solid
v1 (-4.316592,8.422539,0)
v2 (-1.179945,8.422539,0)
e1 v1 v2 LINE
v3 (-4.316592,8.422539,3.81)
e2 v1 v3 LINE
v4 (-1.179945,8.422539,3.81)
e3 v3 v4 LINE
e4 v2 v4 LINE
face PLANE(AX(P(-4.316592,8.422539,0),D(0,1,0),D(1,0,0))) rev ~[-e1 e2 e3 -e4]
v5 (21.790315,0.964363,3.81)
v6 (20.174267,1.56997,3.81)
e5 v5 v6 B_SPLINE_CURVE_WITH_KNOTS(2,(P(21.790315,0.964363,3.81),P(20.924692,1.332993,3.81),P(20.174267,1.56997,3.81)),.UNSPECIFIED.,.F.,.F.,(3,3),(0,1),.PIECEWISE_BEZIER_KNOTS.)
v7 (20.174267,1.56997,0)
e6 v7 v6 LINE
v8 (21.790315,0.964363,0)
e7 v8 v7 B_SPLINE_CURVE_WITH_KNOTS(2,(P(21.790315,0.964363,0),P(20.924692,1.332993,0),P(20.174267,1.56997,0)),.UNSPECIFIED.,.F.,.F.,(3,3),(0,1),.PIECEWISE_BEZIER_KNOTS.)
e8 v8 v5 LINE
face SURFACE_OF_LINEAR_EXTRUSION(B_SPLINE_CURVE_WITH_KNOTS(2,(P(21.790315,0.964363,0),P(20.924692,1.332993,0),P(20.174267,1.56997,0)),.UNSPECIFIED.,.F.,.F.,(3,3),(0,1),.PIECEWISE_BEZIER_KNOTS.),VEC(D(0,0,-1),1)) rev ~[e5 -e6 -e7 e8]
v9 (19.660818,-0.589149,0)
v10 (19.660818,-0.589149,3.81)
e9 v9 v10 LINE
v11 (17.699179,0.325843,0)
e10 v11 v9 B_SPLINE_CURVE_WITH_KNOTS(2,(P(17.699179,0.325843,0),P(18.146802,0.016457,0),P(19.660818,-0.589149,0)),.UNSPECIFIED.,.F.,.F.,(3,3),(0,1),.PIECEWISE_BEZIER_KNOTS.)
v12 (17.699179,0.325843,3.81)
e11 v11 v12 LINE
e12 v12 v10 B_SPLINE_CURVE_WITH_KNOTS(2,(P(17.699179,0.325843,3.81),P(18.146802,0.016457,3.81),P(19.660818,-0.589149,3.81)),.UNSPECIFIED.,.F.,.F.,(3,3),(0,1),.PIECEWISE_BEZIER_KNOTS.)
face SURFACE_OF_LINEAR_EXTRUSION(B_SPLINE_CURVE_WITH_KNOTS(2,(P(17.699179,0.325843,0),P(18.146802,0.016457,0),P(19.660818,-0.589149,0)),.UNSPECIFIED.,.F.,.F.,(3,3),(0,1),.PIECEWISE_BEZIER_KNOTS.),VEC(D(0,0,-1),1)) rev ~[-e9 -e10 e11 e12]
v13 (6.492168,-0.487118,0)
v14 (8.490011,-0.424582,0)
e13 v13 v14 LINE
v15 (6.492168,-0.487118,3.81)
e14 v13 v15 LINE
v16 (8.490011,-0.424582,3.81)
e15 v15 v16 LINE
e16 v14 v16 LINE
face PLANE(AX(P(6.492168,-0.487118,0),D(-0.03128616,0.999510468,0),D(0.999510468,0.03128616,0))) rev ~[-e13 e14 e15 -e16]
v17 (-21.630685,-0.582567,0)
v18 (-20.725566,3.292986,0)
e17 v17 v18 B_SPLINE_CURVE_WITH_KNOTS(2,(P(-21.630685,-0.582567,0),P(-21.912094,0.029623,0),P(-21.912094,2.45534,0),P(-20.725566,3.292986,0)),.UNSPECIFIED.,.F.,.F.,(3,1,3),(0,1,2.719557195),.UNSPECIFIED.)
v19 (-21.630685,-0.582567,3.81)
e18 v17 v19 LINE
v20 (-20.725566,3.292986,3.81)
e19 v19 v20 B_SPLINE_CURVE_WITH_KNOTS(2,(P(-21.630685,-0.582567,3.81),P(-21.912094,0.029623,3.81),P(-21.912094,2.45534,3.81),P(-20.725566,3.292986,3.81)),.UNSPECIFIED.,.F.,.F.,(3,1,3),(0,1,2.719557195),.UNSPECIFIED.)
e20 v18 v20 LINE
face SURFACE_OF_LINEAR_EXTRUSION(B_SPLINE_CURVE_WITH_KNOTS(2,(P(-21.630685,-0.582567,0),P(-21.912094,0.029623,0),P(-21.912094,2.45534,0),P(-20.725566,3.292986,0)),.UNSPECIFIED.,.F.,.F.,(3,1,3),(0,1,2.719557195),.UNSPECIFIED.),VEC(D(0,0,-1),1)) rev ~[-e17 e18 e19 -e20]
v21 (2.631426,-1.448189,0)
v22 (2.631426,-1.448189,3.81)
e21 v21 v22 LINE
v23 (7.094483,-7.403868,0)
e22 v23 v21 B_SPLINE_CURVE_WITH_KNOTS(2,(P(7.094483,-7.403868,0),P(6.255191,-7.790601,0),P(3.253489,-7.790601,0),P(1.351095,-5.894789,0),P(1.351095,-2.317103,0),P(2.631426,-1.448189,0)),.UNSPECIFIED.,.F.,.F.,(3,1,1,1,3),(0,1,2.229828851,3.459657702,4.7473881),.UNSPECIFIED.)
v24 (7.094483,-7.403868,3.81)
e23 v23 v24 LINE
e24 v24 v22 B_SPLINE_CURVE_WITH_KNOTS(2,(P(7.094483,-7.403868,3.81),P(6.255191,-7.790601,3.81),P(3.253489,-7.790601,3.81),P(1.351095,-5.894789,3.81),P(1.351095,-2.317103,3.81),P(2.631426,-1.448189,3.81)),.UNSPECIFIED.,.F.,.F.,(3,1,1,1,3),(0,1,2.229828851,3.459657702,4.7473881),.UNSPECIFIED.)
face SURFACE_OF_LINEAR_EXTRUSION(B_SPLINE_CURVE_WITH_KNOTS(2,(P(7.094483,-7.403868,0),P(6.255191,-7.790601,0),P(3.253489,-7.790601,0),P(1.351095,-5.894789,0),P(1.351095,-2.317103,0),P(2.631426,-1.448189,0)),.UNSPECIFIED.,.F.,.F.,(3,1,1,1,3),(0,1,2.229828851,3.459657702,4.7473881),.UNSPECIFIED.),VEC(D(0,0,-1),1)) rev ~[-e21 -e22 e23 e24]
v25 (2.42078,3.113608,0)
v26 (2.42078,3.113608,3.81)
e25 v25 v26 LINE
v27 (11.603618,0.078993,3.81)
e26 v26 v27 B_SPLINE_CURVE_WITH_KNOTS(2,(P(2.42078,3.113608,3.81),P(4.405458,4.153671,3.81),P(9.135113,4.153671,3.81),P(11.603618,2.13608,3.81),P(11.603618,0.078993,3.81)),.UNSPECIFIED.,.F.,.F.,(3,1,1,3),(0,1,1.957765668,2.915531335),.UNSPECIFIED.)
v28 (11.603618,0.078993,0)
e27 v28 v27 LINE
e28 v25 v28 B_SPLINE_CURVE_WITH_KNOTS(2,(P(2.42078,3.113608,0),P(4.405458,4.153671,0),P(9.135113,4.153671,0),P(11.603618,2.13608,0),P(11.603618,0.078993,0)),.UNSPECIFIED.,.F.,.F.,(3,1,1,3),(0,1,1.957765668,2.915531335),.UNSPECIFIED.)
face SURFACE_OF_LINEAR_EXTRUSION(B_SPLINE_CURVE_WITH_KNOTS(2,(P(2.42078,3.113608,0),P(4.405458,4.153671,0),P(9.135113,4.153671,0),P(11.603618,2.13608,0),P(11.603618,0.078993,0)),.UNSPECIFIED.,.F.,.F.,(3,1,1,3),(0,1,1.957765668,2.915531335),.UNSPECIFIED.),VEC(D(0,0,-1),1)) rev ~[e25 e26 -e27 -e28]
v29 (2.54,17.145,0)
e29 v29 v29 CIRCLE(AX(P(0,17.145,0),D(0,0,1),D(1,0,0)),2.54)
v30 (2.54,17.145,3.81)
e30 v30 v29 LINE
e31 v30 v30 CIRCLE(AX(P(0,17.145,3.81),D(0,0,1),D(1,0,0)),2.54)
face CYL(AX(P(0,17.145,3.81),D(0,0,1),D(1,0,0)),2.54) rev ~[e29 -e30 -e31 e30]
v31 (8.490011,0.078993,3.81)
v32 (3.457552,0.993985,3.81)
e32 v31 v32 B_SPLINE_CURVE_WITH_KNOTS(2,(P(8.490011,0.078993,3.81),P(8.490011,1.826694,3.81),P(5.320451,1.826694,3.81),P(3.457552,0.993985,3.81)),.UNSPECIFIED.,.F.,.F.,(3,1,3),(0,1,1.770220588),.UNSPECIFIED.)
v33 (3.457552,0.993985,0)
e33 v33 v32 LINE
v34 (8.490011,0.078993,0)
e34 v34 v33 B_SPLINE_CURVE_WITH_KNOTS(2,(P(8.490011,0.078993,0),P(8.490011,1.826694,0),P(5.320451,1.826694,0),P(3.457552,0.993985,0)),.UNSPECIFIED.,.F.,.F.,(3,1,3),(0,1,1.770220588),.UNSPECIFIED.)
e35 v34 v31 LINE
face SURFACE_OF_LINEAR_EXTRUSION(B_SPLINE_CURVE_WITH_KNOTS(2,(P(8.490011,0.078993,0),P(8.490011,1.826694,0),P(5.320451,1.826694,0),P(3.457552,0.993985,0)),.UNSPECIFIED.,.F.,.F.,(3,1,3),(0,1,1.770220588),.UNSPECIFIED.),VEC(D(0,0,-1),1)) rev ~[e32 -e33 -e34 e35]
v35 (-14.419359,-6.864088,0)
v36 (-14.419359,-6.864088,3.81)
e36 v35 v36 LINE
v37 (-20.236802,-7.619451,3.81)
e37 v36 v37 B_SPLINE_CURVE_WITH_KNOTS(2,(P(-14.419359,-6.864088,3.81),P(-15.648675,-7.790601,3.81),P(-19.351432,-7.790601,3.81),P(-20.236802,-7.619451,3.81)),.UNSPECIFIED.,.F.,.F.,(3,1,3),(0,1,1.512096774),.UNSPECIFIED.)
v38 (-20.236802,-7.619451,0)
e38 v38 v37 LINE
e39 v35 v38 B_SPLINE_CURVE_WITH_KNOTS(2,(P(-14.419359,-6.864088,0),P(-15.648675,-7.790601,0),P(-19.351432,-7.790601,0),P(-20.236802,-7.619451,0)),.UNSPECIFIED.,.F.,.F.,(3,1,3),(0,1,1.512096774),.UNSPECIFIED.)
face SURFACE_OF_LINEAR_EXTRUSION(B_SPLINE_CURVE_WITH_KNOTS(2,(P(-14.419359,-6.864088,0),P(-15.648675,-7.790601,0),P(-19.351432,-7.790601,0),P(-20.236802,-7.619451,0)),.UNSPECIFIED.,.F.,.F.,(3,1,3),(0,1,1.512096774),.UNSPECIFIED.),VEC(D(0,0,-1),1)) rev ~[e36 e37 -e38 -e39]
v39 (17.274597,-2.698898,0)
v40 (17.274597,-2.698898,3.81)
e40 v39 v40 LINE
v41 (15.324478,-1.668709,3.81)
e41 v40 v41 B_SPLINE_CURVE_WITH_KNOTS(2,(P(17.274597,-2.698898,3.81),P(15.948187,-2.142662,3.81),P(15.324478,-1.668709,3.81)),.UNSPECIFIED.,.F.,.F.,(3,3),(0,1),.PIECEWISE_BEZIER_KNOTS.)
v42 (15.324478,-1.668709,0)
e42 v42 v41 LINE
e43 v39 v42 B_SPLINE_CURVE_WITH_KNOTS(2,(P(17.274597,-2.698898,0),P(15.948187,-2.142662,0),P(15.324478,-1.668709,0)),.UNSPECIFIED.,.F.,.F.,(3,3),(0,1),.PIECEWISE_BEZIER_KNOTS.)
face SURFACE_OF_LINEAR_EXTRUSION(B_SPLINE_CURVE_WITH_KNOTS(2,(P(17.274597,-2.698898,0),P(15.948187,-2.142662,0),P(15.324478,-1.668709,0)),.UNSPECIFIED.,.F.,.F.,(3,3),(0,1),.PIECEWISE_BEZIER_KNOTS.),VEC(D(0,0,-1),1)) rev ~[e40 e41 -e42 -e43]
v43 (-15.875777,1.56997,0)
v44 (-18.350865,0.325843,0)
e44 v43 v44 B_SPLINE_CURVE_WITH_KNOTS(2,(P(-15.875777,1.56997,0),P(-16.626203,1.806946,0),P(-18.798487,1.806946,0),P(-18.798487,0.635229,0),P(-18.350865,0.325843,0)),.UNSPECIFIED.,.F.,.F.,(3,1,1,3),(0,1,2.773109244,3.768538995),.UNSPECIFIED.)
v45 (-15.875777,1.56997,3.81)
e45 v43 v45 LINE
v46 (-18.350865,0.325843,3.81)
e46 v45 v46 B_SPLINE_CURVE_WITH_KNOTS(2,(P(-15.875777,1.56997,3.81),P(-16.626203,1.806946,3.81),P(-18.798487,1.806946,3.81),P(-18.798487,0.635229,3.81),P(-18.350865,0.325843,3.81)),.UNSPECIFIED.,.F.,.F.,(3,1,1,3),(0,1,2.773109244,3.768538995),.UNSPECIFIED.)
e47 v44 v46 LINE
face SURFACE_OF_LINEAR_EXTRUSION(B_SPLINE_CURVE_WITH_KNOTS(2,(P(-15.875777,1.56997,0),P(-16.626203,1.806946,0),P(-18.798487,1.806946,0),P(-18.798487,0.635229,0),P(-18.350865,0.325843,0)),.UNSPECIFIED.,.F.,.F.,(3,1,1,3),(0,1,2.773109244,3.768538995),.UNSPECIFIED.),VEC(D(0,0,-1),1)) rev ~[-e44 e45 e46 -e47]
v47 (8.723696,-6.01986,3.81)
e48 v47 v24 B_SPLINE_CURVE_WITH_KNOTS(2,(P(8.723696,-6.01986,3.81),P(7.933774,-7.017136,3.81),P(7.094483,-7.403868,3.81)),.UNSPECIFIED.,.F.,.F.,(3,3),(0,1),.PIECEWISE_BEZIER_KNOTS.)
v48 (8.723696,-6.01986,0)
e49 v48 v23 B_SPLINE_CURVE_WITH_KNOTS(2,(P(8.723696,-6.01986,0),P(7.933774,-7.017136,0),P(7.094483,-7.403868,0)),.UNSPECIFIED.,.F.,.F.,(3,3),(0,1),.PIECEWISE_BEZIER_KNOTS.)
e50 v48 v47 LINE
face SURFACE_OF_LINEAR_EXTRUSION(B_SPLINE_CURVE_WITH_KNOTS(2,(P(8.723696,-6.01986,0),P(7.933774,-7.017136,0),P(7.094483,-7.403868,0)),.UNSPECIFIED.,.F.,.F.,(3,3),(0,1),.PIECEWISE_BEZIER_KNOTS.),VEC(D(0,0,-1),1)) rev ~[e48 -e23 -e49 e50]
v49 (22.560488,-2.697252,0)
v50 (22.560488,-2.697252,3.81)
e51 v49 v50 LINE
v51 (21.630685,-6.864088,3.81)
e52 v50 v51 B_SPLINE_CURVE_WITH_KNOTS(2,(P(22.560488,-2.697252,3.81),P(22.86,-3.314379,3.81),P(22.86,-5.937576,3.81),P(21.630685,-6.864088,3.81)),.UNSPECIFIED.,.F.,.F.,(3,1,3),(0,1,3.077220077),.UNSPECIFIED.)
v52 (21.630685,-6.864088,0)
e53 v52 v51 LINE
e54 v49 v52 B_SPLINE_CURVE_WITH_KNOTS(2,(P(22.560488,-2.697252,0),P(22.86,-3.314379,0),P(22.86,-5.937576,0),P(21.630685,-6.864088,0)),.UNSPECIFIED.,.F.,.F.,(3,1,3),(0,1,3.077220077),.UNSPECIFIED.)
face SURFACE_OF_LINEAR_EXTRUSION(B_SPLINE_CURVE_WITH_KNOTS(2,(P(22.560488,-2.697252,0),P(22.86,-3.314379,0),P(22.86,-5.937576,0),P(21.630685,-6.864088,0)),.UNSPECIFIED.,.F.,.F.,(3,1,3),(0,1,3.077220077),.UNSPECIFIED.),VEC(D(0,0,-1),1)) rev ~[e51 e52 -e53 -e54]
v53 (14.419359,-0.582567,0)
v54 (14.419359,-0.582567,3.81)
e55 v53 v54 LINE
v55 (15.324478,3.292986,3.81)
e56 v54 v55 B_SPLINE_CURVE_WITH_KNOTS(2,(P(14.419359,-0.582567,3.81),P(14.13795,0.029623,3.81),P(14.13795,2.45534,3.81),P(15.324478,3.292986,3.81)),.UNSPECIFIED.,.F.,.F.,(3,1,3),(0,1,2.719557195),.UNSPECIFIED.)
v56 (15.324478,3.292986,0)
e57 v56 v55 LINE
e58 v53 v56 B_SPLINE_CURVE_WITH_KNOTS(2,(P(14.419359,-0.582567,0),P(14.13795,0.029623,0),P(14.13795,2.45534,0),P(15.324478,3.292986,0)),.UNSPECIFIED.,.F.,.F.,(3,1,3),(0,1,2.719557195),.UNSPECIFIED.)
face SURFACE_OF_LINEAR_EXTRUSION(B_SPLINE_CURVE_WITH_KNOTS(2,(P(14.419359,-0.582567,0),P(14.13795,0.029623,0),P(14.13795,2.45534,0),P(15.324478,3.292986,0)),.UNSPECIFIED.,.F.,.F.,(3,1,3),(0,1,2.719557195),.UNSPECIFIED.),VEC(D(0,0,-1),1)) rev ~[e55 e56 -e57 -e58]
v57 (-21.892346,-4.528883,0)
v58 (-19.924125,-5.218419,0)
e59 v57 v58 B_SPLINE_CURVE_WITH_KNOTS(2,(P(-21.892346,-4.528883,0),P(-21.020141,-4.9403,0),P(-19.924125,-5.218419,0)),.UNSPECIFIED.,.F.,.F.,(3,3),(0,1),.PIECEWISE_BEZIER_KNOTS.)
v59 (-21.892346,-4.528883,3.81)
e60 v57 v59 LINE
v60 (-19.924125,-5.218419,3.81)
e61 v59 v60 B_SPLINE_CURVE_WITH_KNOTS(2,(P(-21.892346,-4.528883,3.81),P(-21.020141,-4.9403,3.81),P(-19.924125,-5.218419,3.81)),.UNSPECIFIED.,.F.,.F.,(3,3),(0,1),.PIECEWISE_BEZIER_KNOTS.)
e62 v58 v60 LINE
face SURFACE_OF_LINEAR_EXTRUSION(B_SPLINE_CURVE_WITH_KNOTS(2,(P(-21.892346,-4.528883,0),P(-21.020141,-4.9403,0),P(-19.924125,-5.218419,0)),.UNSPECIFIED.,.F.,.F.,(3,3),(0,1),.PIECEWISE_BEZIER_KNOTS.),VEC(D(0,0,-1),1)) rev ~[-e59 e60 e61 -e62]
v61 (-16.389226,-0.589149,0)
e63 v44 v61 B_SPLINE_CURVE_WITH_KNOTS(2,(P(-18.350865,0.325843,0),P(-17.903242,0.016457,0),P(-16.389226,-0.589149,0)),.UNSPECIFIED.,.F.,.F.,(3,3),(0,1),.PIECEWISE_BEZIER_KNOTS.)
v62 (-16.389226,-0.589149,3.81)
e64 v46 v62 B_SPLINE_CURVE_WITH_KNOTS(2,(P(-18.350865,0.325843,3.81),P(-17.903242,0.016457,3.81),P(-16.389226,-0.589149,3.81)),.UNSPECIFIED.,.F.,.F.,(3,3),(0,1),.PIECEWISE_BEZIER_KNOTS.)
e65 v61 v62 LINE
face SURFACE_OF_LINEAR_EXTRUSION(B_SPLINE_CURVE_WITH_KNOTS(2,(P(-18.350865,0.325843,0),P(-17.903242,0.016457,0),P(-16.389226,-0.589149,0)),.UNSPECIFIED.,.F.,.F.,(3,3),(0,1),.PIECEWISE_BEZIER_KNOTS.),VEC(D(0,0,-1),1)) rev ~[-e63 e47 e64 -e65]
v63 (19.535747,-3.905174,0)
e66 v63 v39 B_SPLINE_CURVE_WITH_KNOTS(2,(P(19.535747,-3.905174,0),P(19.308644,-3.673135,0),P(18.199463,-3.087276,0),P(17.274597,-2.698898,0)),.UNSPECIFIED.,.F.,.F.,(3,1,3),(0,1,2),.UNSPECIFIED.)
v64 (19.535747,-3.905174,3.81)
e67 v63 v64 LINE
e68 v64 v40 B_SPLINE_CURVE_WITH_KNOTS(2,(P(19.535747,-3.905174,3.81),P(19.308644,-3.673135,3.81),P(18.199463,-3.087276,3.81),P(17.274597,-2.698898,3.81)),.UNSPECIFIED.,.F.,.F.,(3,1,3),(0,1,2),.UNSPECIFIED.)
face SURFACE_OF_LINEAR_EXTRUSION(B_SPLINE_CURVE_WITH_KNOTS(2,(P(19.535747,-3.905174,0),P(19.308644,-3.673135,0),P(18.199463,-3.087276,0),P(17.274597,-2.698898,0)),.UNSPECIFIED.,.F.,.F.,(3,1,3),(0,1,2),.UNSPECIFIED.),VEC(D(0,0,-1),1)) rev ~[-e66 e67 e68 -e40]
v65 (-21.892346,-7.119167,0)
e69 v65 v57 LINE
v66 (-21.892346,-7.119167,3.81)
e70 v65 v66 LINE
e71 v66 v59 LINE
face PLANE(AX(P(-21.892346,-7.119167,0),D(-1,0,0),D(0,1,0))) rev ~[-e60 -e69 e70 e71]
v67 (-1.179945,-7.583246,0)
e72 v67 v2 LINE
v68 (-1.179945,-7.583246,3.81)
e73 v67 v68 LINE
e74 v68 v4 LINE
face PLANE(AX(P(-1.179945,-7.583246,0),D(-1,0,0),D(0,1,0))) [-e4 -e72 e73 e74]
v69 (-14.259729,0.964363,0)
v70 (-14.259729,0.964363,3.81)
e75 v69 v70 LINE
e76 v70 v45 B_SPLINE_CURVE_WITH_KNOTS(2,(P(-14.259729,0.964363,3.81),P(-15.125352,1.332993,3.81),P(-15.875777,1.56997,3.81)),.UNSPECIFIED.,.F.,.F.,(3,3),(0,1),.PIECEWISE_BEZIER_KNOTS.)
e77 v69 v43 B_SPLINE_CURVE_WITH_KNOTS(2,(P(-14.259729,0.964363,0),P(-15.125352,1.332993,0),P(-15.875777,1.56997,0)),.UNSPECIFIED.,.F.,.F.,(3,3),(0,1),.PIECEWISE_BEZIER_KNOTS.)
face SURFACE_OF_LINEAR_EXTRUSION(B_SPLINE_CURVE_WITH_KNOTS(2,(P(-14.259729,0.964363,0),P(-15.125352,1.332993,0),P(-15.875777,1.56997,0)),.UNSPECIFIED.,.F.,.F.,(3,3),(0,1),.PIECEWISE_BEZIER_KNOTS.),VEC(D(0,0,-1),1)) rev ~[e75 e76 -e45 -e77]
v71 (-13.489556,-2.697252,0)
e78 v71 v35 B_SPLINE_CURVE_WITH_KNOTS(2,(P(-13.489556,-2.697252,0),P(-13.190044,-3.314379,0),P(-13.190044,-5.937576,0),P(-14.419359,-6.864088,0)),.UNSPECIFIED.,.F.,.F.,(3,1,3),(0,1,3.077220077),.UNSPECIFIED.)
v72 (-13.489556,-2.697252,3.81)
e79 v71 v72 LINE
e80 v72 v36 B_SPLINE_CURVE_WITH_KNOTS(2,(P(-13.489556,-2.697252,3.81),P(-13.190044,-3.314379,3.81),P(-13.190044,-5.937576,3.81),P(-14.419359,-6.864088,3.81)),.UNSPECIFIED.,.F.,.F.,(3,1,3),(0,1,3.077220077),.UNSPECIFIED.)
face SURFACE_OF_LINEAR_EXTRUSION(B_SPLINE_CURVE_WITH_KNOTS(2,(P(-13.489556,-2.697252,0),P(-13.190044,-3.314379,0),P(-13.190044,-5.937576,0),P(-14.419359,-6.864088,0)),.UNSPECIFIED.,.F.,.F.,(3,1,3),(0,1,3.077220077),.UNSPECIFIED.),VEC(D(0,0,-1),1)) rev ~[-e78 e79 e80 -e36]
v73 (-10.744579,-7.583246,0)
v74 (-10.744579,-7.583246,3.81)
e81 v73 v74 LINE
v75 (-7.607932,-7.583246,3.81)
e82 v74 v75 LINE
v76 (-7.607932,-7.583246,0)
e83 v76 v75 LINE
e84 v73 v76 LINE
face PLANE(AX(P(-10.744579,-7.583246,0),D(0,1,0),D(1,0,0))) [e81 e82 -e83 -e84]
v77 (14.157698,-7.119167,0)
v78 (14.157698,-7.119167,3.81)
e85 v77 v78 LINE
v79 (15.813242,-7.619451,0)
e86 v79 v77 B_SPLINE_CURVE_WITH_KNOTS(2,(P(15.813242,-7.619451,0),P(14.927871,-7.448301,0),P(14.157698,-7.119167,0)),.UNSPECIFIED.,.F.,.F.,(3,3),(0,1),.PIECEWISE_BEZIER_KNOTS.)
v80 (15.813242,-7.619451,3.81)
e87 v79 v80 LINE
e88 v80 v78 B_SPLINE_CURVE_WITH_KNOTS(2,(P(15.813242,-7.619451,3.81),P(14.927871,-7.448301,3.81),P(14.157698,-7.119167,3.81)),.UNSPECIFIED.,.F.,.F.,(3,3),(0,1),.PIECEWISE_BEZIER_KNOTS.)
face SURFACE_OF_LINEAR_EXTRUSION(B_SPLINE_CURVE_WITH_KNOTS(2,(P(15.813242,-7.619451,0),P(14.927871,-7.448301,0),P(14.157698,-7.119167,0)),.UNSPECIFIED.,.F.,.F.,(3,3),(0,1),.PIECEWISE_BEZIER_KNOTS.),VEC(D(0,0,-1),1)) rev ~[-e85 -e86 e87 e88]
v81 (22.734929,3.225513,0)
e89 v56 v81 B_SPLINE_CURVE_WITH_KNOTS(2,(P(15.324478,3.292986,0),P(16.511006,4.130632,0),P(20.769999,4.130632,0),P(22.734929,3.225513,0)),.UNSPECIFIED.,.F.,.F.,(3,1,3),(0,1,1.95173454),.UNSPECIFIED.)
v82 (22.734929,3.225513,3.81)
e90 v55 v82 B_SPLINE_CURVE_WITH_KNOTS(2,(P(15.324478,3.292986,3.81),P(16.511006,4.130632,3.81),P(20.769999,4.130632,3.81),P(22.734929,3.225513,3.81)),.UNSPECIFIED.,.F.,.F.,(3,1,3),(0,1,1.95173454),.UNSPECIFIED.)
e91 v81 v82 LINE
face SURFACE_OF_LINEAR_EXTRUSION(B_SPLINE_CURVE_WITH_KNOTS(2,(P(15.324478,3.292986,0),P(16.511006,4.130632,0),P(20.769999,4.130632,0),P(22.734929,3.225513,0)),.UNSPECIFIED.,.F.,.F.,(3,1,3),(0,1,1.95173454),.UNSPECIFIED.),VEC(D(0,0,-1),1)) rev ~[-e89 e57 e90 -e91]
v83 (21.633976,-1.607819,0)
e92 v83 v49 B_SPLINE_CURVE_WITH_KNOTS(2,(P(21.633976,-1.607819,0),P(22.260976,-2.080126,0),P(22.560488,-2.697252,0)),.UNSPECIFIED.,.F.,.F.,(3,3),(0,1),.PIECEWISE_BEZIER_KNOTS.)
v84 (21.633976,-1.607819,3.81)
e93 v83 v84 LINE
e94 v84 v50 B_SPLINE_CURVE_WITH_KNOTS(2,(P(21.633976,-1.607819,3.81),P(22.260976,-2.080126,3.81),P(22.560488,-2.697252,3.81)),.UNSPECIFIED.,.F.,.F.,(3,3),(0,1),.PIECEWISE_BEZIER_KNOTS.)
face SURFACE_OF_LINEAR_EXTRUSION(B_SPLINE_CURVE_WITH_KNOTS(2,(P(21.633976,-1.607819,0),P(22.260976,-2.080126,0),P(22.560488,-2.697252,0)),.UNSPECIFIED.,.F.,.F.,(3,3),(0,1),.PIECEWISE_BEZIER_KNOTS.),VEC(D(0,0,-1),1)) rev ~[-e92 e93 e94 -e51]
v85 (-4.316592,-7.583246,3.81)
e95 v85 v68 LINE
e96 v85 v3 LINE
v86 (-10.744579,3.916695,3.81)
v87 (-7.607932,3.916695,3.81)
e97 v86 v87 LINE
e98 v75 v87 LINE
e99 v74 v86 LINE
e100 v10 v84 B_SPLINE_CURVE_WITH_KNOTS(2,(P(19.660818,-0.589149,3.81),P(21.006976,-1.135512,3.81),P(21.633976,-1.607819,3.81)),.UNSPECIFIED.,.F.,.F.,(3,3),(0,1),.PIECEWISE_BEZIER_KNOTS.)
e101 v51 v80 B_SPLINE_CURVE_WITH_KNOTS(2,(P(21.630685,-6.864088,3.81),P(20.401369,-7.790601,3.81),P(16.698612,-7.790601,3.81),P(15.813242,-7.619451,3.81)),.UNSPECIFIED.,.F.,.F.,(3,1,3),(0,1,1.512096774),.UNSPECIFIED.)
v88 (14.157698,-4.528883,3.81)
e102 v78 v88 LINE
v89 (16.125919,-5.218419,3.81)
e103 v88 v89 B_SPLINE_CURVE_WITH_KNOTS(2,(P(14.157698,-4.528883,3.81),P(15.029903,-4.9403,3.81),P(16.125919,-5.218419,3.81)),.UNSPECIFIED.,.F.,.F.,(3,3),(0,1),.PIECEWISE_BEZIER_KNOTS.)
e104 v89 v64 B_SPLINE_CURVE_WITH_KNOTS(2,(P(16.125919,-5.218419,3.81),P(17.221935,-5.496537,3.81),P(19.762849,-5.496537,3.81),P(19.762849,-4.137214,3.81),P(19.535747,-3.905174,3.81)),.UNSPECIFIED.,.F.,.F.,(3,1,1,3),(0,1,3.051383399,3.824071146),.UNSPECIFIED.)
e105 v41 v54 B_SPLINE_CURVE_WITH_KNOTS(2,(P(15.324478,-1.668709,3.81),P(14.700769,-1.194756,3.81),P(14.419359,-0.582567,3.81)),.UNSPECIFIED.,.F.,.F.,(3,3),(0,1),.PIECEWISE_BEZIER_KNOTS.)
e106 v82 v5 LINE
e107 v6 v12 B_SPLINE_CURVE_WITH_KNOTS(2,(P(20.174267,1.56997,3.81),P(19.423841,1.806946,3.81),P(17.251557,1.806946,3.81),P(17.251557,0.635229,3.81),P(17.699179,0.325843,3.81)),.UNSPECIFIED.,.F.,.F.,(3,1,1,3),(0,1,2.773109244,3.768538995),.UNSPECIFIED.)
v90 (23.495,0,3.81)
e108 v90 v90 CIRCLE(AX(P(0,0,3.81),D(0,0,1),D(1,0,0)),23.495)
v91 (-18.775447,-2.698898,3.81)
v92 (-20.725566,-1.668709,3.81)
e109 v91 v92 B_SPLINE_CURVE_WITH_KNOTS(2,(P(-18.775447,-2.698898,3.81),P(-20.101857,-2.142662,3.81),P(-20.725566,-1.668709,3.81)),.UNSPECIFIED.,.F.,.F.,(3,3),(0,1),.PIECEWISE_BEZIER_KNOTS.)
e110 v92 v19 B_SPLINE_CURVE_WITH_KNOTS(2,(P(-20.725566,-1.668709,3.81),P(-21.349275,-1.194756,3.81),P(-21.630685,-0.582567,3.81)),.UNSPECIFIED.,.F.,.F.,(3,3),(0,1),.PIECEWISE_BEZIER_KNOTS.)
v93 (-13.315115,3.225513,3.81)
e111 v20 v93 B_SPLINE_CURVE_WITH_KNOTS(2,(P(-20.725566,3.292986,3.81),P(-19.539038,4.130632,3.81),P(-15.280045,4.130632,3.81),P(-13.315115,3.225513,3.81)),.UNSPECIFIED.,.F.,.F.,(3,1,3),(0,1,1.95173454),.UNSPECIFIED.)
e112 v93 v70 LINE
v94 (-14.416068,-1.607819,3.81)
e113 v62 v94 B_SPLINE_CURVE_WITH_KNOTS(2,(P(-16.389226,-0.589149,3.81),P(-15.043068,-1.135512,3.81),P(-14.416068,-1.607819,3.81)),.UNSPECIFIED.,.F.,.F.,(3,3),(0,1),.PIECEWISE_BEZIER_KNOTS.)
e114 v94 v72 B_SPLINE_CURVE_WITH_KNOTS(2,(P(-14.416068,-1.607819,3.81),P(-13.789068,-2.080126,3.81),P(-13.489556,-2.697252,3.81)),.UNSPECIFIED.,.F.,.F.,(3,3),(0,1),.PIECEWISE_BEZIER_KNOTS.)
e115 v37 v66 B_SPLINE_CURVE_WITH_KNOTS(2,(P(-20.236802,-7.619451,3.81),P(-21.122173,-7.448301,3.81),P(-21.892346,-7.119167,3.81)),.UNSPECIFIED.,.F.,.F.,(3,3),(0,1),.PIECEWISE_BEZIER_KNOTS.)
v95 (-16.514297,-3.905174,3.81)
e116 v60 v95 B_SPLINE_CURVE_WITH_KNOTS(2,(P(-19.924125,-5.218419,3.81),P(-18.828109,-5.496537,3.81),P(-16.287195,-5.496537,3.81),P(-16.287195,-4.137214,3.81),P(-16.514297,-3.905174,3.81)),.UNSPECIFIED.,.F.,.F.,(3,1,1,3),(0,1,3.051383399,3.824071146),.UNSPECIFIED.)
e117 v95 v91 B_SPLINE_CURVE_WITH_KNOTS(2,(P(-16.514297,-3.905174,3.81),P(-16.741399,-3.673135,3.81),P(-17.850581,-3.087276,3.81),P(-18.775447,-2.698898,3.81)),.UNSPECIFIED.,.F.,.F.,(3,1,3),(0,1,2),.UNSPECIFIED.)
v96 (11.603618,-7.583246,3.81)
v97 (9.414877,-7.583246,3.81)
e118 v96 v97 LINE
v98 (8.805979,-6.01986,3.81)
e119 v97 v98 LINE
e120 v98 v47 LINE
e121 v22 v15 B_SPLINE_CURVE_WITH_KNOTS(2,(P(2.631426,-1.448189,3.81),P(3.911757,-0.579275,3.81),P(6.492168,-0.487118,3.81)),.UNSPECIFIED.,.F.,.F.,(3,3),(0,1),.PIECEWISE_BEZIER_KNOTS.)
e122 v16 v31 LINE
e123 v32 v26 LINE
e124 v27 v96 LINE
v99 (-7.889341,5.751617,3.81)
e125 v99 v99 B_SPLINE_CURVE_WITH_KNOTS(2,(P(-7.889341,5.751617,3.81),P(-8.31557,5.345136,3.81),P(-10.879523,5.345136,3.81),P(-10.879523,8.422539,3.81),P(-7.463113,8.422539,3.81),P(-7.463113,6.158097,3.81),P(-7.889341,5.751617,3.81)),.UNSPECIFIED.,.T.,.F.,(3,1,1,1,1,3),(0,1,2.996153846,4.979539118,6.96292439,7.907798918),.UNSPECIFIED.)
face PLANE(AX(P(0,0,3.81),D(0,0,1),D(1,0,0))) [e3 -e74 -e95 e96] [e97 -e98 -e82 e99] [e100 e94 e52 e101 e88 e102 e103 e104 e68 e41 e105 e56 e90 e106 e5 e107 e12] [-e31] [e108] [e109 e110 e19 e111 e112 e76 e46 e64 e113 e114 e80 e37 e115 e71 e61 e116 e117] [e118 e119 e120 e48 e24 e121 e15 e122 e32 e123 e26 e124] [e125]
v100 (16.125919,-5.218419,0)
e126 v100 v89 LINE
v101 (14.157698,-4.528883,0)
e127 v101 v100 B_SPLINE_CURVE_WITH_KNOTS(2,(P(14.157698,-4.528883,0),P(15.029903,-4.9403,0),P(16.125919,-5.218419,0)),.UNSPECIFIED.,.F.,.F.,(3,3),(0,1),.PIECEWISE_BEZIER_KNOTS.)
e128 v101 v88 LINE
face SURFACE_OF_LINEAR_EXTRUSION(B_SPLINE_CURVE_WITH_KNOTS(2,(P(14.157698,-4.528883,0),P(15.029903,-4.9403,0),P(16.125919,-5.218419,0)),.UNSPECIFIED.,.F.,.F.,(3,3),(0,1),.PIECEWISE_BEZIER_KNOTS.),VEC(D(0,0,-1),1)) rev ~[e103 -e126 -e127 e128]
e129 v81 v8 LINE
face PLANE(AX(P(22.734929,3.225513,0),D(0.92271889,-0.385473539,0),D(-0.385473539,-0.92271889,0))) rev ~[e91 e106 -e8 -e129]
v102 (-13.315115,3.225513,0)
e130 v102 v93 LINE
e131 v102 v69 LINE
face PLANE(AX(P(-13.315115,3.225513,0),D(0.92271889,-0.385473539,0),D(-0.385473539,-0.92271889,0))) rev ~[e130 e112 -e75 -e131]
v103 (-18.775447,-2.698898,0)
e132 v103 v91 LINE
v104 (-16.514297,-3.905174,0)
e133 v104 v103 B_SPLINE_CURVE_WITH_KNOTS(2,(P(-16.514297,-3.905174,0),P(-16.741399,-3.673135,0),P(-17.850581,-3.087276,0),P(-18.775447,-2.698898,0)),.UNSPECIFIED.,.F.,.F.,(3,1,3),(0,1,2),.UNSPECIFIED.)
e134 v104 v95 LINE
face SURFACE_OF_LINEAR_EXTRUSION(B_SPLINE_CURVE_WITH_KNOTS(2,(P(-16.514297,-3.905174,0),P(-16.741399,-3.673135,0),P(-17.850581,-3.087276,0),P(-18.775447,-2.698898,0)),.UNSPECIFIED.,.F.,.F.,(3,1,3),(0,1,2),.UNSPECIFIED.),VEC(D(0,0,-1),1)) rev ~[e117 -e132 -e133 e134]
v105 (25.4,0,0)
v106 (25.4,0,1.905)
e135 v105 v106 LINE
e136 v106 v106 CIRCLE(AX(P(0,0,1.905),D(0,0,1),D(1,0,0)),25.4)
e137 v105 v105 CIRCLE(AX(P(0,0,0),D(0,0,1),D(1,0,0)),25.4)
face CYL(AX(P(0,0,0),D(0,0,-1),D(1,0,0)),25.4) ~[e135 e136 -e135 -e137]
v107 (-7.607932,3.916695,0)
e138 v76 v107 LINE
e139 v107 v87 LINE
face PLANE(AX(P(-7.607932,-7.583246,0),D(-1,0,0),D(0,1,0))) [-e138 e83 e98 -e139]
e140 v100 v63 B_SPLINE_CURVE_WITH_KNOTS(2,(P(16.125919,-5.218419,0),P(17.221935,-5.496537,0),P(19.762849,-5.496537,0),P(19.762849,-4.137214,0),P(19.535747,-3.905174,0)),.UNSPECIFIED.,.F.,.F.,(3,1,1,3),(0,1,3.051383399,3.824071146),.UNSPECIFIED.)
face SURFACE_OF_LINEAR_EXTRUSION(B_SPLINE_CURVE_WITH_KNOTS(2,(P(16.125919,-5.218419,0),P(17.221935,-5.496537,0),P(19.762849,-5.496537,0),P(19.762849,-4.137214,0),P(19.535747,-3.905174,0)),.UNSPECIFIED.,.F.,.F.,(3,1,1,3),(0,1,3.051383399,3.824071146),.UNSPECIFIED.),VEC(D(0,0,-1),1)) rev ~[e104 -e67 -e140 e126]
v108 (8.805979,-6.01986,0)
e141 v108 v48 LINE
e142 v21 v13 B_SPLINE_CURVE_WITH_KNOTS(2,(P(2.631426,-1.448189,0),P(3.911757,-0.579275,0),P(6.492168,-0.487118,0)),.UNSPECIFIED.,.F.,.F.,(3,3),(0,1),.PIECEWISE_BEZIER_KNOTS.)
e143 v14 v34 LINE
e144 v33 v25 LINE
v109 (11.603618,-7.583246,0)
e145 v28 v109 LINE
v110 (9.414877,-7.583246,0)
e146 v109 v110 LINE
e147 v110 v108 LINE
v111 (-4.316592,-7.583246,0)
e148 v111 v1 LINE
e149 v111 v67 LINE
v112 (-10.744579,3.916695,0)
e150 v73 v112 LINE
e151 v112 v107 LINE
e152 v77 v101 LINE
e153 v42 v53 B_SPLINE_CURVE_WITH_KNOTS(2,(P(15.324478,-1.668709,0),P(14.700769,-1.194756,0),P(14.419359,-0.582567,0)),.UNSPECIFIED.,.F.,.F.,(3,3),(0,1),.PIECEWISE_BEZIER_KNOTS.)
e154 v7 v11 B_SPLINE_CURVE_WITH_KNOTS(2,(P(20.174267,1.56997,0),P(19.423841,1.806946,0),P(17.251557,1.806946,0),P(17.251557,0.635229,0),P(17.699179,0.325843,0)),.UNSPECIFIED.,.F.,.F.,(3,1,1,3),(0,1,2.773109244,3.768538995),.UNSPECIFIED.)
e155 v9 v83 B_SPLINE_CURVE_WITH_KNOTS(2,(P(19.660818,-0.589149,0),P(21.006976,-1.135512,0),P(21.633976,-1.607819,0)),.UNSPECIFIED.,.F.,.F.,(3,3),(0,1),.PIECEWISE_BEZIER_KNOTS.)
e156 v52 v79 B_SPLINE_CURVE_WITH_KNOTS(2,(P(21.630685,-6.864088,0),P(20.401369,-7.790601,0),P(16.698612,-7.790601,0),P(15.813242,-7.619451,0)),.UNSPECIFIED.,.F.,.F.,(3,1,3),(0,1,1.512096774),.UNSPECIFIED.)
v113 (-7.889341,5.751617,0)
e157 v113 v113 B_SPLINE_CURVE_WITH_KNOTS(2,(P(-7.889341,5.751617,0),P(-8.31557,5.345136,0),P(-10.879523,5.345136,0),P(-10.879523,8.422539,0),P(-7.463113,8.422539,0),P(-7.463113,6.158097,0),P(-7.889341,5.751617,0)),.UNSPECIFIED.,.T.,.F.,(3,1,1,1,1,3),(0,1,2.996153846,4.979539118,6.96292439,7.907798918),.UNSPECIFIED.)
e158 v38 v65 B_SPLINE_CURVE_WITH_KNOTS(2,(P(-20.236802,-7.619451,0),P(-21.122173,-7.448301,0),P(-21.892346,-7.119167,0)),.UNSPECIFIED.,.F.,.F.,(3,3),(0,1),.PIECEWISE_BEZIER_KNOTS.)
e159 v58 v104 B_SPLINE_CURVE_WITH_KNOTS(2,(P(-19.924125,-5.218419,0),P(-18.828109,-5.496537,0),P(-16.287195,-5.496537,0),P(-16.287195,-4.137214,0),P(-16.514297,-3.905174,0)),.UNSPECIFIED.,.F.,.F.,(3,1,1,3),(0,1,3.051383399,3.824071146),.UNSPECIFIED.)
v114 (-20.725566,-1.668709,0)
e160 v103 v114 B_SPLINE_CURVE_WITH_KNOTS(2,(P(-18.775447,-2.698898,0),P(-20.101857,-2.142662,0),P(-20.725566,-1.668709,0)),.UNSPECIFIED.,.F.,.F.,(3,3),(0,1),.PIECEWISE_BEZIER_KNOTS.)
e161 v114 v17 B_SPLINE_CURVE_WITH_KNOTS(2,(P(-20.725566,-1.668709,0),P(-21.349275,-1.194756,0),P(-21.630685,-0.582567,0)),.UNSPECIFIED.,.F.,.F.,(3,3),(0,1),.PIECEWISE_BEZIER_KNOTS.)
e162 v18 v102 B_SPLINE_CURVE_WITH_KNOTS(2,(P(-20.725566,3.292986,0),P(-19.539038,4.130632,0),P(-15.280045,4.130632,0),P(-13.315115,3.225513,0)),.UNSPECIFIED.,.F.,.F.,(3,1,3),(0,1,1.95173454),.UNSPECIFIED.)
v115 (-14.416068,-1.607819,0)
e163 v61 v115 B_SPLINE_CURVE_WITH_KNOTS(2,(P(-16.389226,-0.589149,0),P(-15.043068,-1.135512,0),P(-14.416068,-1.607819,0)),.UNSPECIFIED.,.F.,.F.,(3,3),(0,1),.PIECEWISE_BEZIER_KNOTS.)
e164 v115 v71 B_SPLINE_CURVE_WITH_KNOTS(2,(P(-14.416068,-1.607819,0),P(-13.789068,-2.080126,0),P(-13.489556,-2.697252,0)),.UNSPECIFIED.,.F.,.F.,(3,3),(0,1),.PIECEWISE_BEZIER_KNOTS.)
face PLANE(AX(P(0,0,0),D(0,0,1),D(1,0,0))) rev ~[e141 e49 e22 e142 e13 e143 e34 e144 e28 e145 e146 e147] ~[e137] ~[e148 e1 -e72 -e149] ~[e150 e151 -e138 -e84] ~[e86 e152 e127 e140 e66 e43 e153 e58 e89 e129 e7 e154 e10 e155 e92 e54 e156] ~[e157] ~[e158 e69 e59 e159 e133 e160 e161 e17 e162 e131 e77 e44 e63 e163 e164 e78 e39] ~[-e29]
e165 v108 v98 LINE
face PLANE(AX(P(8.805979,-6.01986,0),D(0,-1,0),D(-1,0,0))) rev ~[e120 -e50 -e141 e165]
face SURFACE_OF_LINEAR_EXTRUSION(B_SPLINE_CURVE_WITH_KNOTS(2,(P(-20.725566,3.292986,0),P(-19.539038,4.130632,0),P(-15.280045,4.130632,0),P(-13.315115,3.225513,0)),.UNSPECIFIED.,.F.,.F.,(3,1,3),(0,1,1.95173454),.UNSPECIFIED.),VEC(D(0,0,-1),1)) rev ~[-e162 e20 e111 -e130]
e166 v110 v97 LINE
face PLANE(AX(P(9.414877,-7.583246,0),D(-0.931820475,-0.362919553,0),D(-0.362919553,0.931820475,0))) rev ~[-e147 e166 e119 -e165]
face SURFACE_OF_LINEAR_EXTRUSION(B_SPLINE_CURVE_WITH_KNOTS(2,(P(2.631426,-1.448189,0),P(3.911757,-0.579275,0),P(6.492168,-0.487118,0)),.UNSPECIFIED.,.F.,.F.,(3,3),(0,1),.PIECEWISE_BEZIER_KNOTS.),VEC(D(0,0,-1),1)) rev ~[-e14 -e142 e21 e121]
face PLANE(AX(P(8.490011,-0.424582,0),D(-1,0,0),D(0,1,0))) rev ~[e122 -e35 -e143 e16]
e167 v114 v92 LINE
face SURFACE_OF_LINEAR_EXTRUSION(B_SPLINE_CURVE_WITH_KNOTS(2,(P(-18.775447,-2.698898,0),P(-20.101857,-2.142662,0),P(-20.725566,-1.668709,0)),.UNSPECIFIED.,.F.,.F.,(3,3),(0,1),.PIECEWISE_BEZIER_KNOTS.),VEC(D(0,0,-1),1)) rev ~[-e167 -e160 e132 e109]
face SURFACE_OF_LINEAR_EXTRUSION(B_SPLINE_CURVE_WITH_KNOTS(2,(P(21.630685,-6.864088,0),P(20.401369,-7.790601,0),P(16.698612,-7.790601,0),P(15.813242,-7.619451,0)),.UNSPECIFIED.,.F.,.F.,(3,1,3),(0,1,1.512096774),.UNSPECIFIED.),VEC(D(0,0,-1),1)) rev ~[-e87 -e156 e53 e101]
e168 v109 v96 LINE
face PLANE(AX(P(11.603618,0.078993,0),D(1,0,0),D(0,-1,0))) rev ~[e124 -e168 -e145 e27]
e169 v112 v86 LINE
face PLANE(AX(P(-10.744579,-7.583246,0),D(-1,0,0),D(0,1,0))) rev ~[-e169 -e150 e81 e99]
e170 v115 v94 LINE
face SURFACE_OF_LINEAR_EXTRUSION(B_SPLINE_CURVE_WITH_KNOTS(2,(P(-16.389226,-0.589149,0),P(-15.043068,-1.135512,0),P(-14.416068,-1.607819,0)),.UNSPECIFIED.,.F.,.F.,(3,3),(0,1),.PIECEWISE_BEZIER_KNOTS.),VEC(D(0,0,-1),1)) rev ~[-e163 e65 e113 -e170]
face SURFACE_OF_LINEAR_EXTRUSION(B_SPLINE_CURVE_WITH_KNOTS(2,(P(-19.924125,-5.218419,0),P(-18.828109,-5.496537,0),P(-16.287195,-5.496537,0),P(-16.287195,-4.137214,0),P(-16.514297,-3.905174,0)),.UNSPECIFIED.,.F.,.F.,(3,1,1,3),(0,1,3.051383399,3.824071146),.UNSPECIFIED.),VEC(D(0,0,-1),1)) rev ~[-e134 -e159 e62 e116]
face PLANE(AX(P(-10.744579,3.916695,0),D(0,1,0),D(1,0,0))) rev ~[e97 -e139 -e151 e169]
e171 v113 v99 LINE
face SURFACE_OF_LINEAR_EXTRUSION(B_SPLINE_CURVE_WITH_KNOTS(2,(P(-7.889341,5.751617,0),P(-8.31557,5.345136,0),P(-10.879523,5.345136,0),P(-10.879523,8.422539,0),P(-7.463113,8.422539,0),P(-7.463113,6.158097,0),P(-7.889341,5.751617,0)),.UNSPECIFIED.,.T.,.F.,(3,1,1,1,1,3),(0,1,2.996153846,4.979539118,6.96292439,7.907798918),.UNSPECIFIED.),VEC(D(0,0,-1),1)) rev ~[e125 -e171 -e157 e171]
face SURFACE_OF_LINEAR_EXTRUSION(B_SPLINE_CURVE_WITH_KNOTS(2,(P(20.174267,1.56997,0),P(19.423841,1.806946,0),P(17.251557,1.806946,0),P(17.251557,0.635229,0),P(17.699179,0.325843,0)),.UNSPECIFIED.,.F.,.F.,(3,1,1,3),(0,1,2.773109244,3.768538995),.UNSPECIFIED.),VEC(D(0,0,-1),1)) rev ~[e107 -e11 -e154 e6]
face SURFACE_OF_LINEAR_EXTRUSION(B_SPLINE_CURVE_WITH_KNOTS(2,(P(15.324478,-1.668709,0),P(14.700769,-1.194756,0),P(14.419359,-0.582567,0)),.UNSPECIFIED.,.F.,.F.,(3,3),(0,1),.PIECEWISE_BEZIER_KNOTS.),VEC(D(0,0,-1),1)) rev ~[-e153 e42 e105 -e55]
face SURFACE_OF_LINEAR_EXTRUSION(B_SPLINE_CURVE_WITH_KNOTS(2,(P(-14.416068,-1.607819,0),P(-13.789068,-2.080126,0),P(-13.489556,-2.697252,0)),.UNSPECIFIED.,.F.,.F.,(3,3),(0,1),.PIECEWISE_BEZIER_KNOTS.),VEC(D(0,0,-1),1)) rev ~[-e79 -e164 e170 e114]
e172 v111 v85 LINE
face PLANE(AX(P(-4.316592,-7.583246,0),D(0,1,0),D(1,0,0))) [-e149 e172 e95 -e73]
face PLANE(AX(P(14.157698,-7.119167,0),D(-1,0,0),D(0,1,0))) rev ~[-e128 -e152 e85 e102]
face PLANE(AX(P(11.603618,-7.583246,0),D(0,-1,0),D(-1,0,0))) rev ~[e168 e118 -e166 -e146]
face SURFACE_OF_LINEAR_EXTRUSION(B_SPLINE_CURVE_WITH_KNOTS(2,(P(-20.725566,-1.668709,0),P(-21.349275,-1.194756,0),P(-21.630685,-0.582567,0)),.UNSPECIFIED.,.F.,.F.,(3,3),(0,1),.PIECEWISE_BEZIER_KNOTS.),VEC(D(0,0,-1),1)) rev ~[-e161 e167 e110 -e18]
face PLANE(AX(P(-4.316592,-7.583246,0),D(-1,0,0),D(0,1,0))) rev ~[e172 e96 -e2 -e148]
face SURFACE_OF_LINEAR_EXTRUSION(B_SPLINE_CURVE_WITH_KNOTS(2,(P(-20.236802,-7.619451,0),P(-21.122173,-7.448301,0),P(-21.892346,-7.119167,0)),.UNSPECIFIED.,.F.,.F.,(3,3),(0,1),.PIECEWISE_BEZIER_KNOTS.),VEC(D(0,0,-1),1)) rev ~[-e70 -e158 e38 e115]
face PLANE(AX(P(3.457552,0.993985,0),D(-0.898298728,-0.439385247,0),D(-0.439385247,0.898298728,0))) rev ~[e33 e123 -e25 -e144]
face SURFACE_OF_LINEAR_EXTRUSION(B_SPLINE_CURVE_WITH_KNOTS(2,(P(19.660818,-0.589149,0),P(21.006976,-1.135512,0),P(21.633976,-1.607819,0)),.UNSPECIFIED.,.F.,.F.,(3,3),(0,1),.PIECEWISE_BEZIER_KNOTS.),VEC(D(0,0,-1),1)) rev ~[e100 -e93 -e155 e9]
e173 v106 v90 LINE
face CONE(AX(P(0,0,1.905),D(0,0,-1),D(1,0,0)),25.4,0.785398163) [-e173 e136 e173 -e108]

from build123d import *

# Parameters (mm, degrees)
F0_R     = 25.4
F0_W     = 3.1366467497
F0_H     = 11.499940969
F0_H_2   = 16.0057850407
F1_DEPTH = 3.81
F2_SIZE  = 1.905
F3_R     = 2.54
F4_DEPTH = 25.4


with BuildPart() as f1:
    # F0 (on Top) → F1 (new body)
    with BuildSketch(Plane.XY):
        Circle(F0_R)
        with BuildLine():
            add(Edge.make_bspline(
                [(-13.4895558275, -2.6972523911), (-13.1900439133, -3.3143785879), (-13.1900439133, -4.1668355744)],
                knots=[0, 0, 0, 1, 1, 1], degree=2))
            add(Edge.make_bspline(
                [(-13.1900439133, -4.1668355744), (-13.1900439133, -5.9375763418), (-14.4193592974, -6.864088472)],
                knots=[0, 0, 0, 1, 1, 1], degree=2))
            add(Edge.make_bspline(
                [(-14.4193592974, -6.864088472), (-15.6486746814, -7.7906006021), (-18.0974314304, -7.7906006021)],
                knots=[0, 0, 0, 1, 1, 1], degree=2))
            add(Edge.make_bspline(
                [(-18.0974314304, -7.7906006021), (-19.3514318624, -7.7906006021), (-20.2368022461, -7.6194509369)],
                knots=[0, 0, 0, 1, 1, 1], degree=2))
            add(Edge.make_bspline(
                [(-20.2368022461, -7.6194509369), (-21.1221726298, -7.4483012716), (-21.8923461234, -7.1191673)],
                knots=[0, 0, 0, 1, 1, 1], degree=2))
            Line((-21.8923461234, -7.1191673), (-21.8923461234, -4.5288829432))
            add(Edge.make_bspline(
                [(-21.8923461234, -4.5288829432), (-21.0201410986, -4.9403004078), (-19.924124973, -5.2184186138)],
                knots=[0, 0, 0, 1, 1, 1], degree=2))
            add(Edge.make_bspline(
                [(-19.924124973, -5.2184186138), (-18.8281088475, -5.4965368198), (-17.9953998992, -5.4965368198)],
                knots=[0, 0, 0, 1, 1, 1], degree=2))
            add(Edge.make_bspline(
                [(-17.9953998992, -5.4965368198), (-16.2871945864, -5.4965368198), (-16.2871945864, -4.5091349049)],
                knots=[0, 0, 0, 1, 1, 1], degree=2))
            add(Edge.make_bspline(
                [(-16.2871945864, -4.5091349049), (-16.2871945864, -4.137213517), (-16.5142970269, -3.905174067)],
                knots=[0, 0, 0, 1, 1, 1], degree=2))
            add(Edge.make_bspline(
                [(-16.5142970269, -3.905174067), (-16.7413994673, -3.673134617), (-17.2959902095, -3.3802053822)],
                knots=[0, 0, 0, 1, 1, 1], degree=2))
            add(Edge.make_bspline(
                [(-17.2959902095, -3.3802053822), (-17.8505809517, -3.0872761474), (-18.775447412, -2.6988980609)],
                knots=[0, 0, 0, 1, 1, 1], degree=2))
            add(Edge.make_bspline(
                [(-18.775447412, -2.6988980609), (-20.1018573177, -2.1426616489), (-20.7255661939, -1.6687087297)],
                knots=[0, 0, 0, 1, 1, 1], degree=2))
            add(Edge.make_bspline(
                [(-20.7255661939, -1.6687087297), (-21.3492750702, -1.1947558105), (-21.6306846159, -0.5825666233)],
                knots=[0, 0, 0, 1, 1, 1], degree=2))
            add(Edge.make_bspline(
                [(-21.6306846159, -0.5825666233), (-21.9120941617, 0.0296225639), (-21.9120941617, 0.9215756271)],
                knots=[0, 0, 0, 1, 1, 1], degree=2))
            add(Edge.make_bspline(
                [(-21.9120941617, 0.9215756271), (-21.9120941617, 2.4553399349), (-20.7255661939, 3.2929858927)],
                knots=[0, 0, 0, 1, 1, 1], degree=2))
            add(Edge.make_bspline(
                [(-20.7255661939, 3.2929858927), (-19.5390382262, 4.1306318505), (-17.3568799942, 4.1306318505)],
                knots=[0, 0, 0, 1, 1, 1], degree=2))
            add(Edge.make_bspline(
                [(-17.3568799942, 4.1306318505), (-15.2800446332, 4.1306318505), (-13.3151148225, 3.2255134285)],
                knots=[0, 0, 0, 1, 1, 1], degree=2))
            Line((-13.3151148225, 3.2255134285), (-14.2597293211, 0.9643630434))
            add(Edge.make_bspline(
                [(-14.2597293211, 0.9643630434), (-15.1253516665, 1.3329930916), (-15.8757771219, 1.5699695512)],
                knots=[0, 0, 0, 1, 1, 1], degree=2))
            add(Edge.make_bspline(
                [(-15.8757771219, 1.5699695512), (-16.6262025772, 1.8069460108), (-17.4095414297, 1.8069460108)],
                knots=[0, 0, 0, 1, 1, 1], degree=2))
            add(Edge.make_bspline(
                [(-17.4095414297, 1.8069460108), (-18.79848679, 1.8069460108), (-18.79848679, 1.0565205555)],
                knots=[0, 0, 0, 1, 1, 1], degree=2))
            add(Edge.make_bspline(
                [(-18.79848679, 1.0565205555), (-18.79848679, 0.6352290718), (-18.3508645886, 0.3258431384)],
                knots=[0, 0, 0, 1, 1, 1], degree=2))
            add(Edge.make_bspline(
                [(-18.3508645886, 0.3258431384), (-17.9032423872, 0.0164572051), (-16.3892261176, -0.5891493027)],
                knots=[0, 0, 0, 1, 1, 1], degree=2))
            add(Edge.make_bspline(
                [(-16.3892261176, -0.5891493027), (-15.0430681736, -1.1355116956), (-14.4160679577, -1.6078189449)],
                knots=[0, 0, 0, 1, 1, 1], degree=2))
            add(Edge.make_bspline(
                [(-14.4160679577, -1.6078189449), (-13.7890677417, -2.0801261942), (-13.4895558275, -2.6972523911)],
                knots=[0, 0, 0, 1, 1, 1], degree=2))
        make_face(mode=Mode.SUBTRACT)
        with Locations((-9.1762551292, -1.8332757155)):
            Rectangle(F0_W, F0_H, mode=Mode.SUBTRACT)
        with BuildLine():
            Line((11.60361817, -7.5832462), (9.4148772587, -7.5832462))
            Line((9.4148772587, -7.5832462), (8.8059794111, -6.0198598347))
            Line((8.8059794111, -6.0198598347), (8.7236959182, -6.0198598347))
            add(Edge.make_bspline(
                [(8.7236959182, -6.0198598347), (7.9337743863, -7.0171357688), (7.0944827586, -7.4038681855)],
                knots=[0, 0, 0, 1, 1, 1], degree=2))
            add(Edge.make_bspline(
                [(7.0944827586, -7.4038681855), (6.2551911309, -7.7906006021), (4.909033187, -7.7906006021)],
                knots=[0, 0, 0, 1, 1, 1], degree=2))
            add(Edge.make_bspline(
                [(4.909033187, -7.7906006021), (3.2534893096, -7.7906006021), (2.3022921316, -6.8426947638)],
                knots=[0, 0, 0, 1, 1, 1], degree=2))
            add(Edge.make_bspline(
                [(2.3022921316, -6.8426947638), (1.3510949536, -5.8947889255), (1.3510949536, -4.1470875361)],
                knots=[0, 0, 0, 1, 1, 1], degree=2))
            add(Edge.make_bspline(
                [(1.3510949536, -4.1470875361), (1.3510949536, -2.3171026538), (2.6314261032, -1.4481889687)],
                knots=[0, 0, 0, 1, 1, 1], degree=2))
            add(Edge.make_bspline(
                [(2.6314261032, -1.4481889687), (3.9117572529, -0.5792752836), (6.4921675905, -0.4871177715)],
                knots=[0, 0, 0, 1, 1, 1], degree=2))
            Line((6.4921675905, -0.4871177715), (8.4900107984, -0.4245823169))
            Line((8.4900107984, -0.4245823169), (8.4900107984, 0.0789926597))
            add(Edge.make_bspline(
                [(8.4900107984, 0.0789926597), (8.4900107984, 1.8266940491), (6.6995219927, 1.8266940491)],
                knots=[0, 0, 0, 1, 1, 1], degree=2))
            add(Edge.make_bspline(
                [(6.6995219927, 1.8266940491), (5.3204506515, 1.8266940491), (3.457552372, 0.9939851008)],
                knots=[0, 0, 0, 1, 1, 1], degree=2))
            Line((3.457552372, 0.9939851008), (2.4207803614, 3.1136078782))
            add(Edge.make_bspline(
                [(2.4207803614, 3.1136078782), (4.4054582104, 4.1536712286), (6.8213015622, 4.1536712286)],
                knots=[0, 0, 0, 1, 1, 1], degree=2))
            add(Edge.make_bspline(
                [(6.8213015622, 4.1536712286), (9.1351133828, 4.1536712286), (10.3693657764, 3.1448756055)],
                knots=[0, 0, 0, 1, 1, 1], degree=2))
            add(Edge.make_bspline(
                [(10.3693657764, 3.1448756055), (11.60361817, 2.1360799824), (11.60361817, 0.0789926597)],
                knots=[0, 0, 0, 1, 1, 1], degree=2))
            Line((11.60361817, 0.0789926597), (11.60361817, -7.5832462))
        make_face(mode=Mode.SUBTRACT)
        with BuildLine():
            add(Edge.make_bspline(
                [(22.5604880858, -2.6972523911), (22.86, -3.3143785879), (22.86, -4.1668355744)],
                knots=[0, 0, 0, 1, 1, 1], degree=2))
            add(Edge.make_bspline(
                [(22.86, -4.1668355744), (22.86, -5.9375763418), (21.6306846159, -6.864088472)],
                knots=[0, 0, 0, 1, 1, 1], degree=2))
            add(Edge.make_bspline(
                [(21.6306846159, -6.864088472), (20.4013692319, -7.7906006021), (17.9526124829, -7.7906006021)],
                knots=[0, 0, 0, 1, 1, 1], degree=2))
            add(Edge.make_bspline(
                [(17.9526124829, -7.7906006021), (16.698612051, -7.7906006021), (15.8132416673, -7.6194509369)],
                knots=[0, 0, 0, 1, 1, 1], degree=2))
            add(Edge.make_bspline(
                [(15.8132416673, -7.6194509369), (14.9278712836, -7.4483012716), (14.1576977899, -7.1191673)],
                knots=[0, 0, 0, 1, 1, 1], degree=2))
            Line((14.1576977899, -7.1191673), (14.1576977899, -4.5288829432))
            add(Edge.make_bspline(
                [(14.1576977899, -4.5288829432), (15.0299028148, -4.9403004078), (16.1259189403, -5.2184186138)],
                knots=[0, 0, 0, 1, 1, 1], degree=2))
            add(Edge.make_bspline(
                [(16.1259189403, -5.2184186138), (17.2219350659, -5.4965368198), (18.0546440141, -5.4965368198)],
                knots=[0, 0, 0, 1, 1, 1], degree=2))
            add(Edge.make_bspline(
                [(18.0546440141, -5.4965368198), (19.7628493269, -5.4965368198), (19.7628493269, -4.5091349049)],
                knots=[0, 0, 0, 1, 1, 1], degree=2))
            add(Edge.make_bspline(
                [(19.7628493269, -4.5091349049), (19.7628493269, -4.137213517), (19.5357468865, -3.905174067)],
                knots=[0, 0, 0, 1, 1, 1], degree=2))
            add(Edge.make_bspline(
                [(19.5357468865, -3.905174067), (19.308644446, -3.673134617), (18.7540537038, -3.3802053822)],
                knots=[0, 0, 0, 1, 1, 1], degree=2))
            add(Edge.make_bspline(
                [(18.7540537038, -3.3802053822), (18.1994629616, -3.0872761474), (17.2745965013, -2.6988980609)],
                knots=[0, 0, 0, 1, 1, 1], degree=2))
            add(Edge.make_bspline(
                [(17.2745965013, -2.6988980609), (15.9481865956, -2.1426616489), (15.3244777194, -1.6687087297)],
                knots=[0, 0, 0, 1, 1, 1], degree=2))
            add(Edge.make_bspline(
                [(15.3244777194, -1.6687087297), (14.7007688431, -1.1947558105), (14.4193592974, -0.5825666233)],
                knots=[0, 0, 0, 1, 1, 1], degree=2))
            add(Edge.make_bspline(
                [(14.4193592974, -0.5825666233), (14.1379497516, 0.0296225639), (14.1379497516, 0.9215756271)],
                knots=[0, 0, 0, 1, 1, 1], degree=2))
            add(Edge.make_bspline(
                [(14.1379497516, 0.9215756271), (14.1379497516, 2.4553399349), (15.3244777194, 3.2929858927)],
                knots=[0, 0, 0, 1, 1, 1], degree=2))
            add(Edge.make_bspline(
                [(15.3244777194, 3.2929858927), (16.5110056871, 4.1306318505), (18.6931639191, 4.1306318505)],
                knots=[0, 0, 0, 1, 1, 1], degree=2))
            add(Edge.make_bspline(
                [(18.6931639191, 4.1306318505), (20.7699992801, 4.1306318505), (22.7349290908, 3.2255134285)],
                knots=[0, 0, 0, 1, 1, 1], degree=2))
            Line((22.7349290908, 3.2255134285), (21.7903145922, 0.9643630434))
            add(Edge.make_bspline(
                [(21.7903145922, 0.9643630434), (20.9246922468, 1.3329930916), (20.1742667914, 1.5699695512)],
                knots=[0, 0, 0, 1, 1, 1], degree=2))
            add(Edge.make_bspline(
                [(20.1742667914, 1.5699695512), (19.4238413361, 1.8069460108), (18.6405024836, 1.8069460108)],
                knots=[0, 0, 0, 1, 1, 1], degree=2))
            add(Edge.make_bspline(
                [(18.6405024836, 1.8069460108), (17.2515571233, 1.8069460108), (17.2515571233, 1.0565205555)],
                knots=[0, 0, 0, 1, 1, 1], degree=2))
            add(Edge.make_bspline(
                [(17.2515571233, 1.0565205555), (17.2515571233, 0.6352290718), (17.6991793247, 0.3258431384)],
                knots=[0, 0, 0, 1, 1, 1], degree=2))
            add(Edge.make_bspline(
                [(17.6991793247, 0.3258431384), (18.1468015262, 0.0164572051), (19.6608177957, -0.5891493027)],
                knots=[0, 0, 0, 1, 1, 1], degree=2))
            add(Edge.make_bspline(
                [(19.6608177957, -0.5891493027), (21.0069757397, -1.1355116956), (21.6339759557, -1.6078189449)],
                knots=[0, 0, 0, 1, 1, 1], degree=2))
            add(Edge.make_bspline(
                [(21.6339759557, -1.6078189449), (22.2609761716, -2.0801261942), (22.5604880858, -2.6972523911)],
                knots=[0, 0, 0, 1, 1, 1], degree=2))
        make_face(mode=Mode.SUBTRACT)
        with Locations((-2.7482686632, 0.4196463203)):
            Rectangle(F0_W, F0_H_2, mode=Mode.SUBTRACT)
        with BuildLine():
            add(Edge.make_bspline(
                [(-9.1713181196, 5.3451362059), (-10.8795234324, 5.3451362059), (-10.8795234324, 6.8887745328)],
                knots=[0, 0, 0, 1, 1, 1], degree=2))
            add(Edge.make_bspline(
                [(-10.8795234324, 6.8887745328), (-10.8795234324, 8.4225388407), (-9.1713181196, 8.4225388407)],
                knots=[0, 0, 0, 1, 1, 1], degree=2))
            add(Edge.make_bspline(
                [(-9.1713181196, 8.4225388407), (-7.4631128069, 8.4225388407), (-7.4631128069, 6.8887745328)],
                knots=[0, 0, 0, 1, 1, 1], degree=2))
            add(Edge.make_bspline(
                [(-7.4631128069, 6.8887745328), (-7.4631128069, 6.1580971158), (-7.8893413001, 5.7516166608)],
                knots=[0, 0, 0, 1, 1, 1], degree=2))
            add(Edge.make_bspline(
                [(-7.8893413001, 5.7516166608), (-8.3155697934, 5.3451362059), (-9.1713181196, 5.3451362059)],
                knots=[0, 0, 0, 1, 1, 1], degree=2))
        make_face(mode=Mode.SUBTRACT)
    extrude(amount=F1_DEPTH)

    # F2
    f2_edges = [f1.edges().sort_by_distance(p)[0] for p in [
        (-25.4, 0, 3.81),
    ]]
    chamfer(f2_edges, length=F2_SIZE)

    # F3 (on face) → F4 (cut)
    with BuildSketch(Plane.XY.offset(3.81)):
        with Locations((0, 17.145)):
            Circle(F3_R)
    extrude(amount=-F4_DEPTH, mode=Mode.SUBTRACT)


solid = f1.part
